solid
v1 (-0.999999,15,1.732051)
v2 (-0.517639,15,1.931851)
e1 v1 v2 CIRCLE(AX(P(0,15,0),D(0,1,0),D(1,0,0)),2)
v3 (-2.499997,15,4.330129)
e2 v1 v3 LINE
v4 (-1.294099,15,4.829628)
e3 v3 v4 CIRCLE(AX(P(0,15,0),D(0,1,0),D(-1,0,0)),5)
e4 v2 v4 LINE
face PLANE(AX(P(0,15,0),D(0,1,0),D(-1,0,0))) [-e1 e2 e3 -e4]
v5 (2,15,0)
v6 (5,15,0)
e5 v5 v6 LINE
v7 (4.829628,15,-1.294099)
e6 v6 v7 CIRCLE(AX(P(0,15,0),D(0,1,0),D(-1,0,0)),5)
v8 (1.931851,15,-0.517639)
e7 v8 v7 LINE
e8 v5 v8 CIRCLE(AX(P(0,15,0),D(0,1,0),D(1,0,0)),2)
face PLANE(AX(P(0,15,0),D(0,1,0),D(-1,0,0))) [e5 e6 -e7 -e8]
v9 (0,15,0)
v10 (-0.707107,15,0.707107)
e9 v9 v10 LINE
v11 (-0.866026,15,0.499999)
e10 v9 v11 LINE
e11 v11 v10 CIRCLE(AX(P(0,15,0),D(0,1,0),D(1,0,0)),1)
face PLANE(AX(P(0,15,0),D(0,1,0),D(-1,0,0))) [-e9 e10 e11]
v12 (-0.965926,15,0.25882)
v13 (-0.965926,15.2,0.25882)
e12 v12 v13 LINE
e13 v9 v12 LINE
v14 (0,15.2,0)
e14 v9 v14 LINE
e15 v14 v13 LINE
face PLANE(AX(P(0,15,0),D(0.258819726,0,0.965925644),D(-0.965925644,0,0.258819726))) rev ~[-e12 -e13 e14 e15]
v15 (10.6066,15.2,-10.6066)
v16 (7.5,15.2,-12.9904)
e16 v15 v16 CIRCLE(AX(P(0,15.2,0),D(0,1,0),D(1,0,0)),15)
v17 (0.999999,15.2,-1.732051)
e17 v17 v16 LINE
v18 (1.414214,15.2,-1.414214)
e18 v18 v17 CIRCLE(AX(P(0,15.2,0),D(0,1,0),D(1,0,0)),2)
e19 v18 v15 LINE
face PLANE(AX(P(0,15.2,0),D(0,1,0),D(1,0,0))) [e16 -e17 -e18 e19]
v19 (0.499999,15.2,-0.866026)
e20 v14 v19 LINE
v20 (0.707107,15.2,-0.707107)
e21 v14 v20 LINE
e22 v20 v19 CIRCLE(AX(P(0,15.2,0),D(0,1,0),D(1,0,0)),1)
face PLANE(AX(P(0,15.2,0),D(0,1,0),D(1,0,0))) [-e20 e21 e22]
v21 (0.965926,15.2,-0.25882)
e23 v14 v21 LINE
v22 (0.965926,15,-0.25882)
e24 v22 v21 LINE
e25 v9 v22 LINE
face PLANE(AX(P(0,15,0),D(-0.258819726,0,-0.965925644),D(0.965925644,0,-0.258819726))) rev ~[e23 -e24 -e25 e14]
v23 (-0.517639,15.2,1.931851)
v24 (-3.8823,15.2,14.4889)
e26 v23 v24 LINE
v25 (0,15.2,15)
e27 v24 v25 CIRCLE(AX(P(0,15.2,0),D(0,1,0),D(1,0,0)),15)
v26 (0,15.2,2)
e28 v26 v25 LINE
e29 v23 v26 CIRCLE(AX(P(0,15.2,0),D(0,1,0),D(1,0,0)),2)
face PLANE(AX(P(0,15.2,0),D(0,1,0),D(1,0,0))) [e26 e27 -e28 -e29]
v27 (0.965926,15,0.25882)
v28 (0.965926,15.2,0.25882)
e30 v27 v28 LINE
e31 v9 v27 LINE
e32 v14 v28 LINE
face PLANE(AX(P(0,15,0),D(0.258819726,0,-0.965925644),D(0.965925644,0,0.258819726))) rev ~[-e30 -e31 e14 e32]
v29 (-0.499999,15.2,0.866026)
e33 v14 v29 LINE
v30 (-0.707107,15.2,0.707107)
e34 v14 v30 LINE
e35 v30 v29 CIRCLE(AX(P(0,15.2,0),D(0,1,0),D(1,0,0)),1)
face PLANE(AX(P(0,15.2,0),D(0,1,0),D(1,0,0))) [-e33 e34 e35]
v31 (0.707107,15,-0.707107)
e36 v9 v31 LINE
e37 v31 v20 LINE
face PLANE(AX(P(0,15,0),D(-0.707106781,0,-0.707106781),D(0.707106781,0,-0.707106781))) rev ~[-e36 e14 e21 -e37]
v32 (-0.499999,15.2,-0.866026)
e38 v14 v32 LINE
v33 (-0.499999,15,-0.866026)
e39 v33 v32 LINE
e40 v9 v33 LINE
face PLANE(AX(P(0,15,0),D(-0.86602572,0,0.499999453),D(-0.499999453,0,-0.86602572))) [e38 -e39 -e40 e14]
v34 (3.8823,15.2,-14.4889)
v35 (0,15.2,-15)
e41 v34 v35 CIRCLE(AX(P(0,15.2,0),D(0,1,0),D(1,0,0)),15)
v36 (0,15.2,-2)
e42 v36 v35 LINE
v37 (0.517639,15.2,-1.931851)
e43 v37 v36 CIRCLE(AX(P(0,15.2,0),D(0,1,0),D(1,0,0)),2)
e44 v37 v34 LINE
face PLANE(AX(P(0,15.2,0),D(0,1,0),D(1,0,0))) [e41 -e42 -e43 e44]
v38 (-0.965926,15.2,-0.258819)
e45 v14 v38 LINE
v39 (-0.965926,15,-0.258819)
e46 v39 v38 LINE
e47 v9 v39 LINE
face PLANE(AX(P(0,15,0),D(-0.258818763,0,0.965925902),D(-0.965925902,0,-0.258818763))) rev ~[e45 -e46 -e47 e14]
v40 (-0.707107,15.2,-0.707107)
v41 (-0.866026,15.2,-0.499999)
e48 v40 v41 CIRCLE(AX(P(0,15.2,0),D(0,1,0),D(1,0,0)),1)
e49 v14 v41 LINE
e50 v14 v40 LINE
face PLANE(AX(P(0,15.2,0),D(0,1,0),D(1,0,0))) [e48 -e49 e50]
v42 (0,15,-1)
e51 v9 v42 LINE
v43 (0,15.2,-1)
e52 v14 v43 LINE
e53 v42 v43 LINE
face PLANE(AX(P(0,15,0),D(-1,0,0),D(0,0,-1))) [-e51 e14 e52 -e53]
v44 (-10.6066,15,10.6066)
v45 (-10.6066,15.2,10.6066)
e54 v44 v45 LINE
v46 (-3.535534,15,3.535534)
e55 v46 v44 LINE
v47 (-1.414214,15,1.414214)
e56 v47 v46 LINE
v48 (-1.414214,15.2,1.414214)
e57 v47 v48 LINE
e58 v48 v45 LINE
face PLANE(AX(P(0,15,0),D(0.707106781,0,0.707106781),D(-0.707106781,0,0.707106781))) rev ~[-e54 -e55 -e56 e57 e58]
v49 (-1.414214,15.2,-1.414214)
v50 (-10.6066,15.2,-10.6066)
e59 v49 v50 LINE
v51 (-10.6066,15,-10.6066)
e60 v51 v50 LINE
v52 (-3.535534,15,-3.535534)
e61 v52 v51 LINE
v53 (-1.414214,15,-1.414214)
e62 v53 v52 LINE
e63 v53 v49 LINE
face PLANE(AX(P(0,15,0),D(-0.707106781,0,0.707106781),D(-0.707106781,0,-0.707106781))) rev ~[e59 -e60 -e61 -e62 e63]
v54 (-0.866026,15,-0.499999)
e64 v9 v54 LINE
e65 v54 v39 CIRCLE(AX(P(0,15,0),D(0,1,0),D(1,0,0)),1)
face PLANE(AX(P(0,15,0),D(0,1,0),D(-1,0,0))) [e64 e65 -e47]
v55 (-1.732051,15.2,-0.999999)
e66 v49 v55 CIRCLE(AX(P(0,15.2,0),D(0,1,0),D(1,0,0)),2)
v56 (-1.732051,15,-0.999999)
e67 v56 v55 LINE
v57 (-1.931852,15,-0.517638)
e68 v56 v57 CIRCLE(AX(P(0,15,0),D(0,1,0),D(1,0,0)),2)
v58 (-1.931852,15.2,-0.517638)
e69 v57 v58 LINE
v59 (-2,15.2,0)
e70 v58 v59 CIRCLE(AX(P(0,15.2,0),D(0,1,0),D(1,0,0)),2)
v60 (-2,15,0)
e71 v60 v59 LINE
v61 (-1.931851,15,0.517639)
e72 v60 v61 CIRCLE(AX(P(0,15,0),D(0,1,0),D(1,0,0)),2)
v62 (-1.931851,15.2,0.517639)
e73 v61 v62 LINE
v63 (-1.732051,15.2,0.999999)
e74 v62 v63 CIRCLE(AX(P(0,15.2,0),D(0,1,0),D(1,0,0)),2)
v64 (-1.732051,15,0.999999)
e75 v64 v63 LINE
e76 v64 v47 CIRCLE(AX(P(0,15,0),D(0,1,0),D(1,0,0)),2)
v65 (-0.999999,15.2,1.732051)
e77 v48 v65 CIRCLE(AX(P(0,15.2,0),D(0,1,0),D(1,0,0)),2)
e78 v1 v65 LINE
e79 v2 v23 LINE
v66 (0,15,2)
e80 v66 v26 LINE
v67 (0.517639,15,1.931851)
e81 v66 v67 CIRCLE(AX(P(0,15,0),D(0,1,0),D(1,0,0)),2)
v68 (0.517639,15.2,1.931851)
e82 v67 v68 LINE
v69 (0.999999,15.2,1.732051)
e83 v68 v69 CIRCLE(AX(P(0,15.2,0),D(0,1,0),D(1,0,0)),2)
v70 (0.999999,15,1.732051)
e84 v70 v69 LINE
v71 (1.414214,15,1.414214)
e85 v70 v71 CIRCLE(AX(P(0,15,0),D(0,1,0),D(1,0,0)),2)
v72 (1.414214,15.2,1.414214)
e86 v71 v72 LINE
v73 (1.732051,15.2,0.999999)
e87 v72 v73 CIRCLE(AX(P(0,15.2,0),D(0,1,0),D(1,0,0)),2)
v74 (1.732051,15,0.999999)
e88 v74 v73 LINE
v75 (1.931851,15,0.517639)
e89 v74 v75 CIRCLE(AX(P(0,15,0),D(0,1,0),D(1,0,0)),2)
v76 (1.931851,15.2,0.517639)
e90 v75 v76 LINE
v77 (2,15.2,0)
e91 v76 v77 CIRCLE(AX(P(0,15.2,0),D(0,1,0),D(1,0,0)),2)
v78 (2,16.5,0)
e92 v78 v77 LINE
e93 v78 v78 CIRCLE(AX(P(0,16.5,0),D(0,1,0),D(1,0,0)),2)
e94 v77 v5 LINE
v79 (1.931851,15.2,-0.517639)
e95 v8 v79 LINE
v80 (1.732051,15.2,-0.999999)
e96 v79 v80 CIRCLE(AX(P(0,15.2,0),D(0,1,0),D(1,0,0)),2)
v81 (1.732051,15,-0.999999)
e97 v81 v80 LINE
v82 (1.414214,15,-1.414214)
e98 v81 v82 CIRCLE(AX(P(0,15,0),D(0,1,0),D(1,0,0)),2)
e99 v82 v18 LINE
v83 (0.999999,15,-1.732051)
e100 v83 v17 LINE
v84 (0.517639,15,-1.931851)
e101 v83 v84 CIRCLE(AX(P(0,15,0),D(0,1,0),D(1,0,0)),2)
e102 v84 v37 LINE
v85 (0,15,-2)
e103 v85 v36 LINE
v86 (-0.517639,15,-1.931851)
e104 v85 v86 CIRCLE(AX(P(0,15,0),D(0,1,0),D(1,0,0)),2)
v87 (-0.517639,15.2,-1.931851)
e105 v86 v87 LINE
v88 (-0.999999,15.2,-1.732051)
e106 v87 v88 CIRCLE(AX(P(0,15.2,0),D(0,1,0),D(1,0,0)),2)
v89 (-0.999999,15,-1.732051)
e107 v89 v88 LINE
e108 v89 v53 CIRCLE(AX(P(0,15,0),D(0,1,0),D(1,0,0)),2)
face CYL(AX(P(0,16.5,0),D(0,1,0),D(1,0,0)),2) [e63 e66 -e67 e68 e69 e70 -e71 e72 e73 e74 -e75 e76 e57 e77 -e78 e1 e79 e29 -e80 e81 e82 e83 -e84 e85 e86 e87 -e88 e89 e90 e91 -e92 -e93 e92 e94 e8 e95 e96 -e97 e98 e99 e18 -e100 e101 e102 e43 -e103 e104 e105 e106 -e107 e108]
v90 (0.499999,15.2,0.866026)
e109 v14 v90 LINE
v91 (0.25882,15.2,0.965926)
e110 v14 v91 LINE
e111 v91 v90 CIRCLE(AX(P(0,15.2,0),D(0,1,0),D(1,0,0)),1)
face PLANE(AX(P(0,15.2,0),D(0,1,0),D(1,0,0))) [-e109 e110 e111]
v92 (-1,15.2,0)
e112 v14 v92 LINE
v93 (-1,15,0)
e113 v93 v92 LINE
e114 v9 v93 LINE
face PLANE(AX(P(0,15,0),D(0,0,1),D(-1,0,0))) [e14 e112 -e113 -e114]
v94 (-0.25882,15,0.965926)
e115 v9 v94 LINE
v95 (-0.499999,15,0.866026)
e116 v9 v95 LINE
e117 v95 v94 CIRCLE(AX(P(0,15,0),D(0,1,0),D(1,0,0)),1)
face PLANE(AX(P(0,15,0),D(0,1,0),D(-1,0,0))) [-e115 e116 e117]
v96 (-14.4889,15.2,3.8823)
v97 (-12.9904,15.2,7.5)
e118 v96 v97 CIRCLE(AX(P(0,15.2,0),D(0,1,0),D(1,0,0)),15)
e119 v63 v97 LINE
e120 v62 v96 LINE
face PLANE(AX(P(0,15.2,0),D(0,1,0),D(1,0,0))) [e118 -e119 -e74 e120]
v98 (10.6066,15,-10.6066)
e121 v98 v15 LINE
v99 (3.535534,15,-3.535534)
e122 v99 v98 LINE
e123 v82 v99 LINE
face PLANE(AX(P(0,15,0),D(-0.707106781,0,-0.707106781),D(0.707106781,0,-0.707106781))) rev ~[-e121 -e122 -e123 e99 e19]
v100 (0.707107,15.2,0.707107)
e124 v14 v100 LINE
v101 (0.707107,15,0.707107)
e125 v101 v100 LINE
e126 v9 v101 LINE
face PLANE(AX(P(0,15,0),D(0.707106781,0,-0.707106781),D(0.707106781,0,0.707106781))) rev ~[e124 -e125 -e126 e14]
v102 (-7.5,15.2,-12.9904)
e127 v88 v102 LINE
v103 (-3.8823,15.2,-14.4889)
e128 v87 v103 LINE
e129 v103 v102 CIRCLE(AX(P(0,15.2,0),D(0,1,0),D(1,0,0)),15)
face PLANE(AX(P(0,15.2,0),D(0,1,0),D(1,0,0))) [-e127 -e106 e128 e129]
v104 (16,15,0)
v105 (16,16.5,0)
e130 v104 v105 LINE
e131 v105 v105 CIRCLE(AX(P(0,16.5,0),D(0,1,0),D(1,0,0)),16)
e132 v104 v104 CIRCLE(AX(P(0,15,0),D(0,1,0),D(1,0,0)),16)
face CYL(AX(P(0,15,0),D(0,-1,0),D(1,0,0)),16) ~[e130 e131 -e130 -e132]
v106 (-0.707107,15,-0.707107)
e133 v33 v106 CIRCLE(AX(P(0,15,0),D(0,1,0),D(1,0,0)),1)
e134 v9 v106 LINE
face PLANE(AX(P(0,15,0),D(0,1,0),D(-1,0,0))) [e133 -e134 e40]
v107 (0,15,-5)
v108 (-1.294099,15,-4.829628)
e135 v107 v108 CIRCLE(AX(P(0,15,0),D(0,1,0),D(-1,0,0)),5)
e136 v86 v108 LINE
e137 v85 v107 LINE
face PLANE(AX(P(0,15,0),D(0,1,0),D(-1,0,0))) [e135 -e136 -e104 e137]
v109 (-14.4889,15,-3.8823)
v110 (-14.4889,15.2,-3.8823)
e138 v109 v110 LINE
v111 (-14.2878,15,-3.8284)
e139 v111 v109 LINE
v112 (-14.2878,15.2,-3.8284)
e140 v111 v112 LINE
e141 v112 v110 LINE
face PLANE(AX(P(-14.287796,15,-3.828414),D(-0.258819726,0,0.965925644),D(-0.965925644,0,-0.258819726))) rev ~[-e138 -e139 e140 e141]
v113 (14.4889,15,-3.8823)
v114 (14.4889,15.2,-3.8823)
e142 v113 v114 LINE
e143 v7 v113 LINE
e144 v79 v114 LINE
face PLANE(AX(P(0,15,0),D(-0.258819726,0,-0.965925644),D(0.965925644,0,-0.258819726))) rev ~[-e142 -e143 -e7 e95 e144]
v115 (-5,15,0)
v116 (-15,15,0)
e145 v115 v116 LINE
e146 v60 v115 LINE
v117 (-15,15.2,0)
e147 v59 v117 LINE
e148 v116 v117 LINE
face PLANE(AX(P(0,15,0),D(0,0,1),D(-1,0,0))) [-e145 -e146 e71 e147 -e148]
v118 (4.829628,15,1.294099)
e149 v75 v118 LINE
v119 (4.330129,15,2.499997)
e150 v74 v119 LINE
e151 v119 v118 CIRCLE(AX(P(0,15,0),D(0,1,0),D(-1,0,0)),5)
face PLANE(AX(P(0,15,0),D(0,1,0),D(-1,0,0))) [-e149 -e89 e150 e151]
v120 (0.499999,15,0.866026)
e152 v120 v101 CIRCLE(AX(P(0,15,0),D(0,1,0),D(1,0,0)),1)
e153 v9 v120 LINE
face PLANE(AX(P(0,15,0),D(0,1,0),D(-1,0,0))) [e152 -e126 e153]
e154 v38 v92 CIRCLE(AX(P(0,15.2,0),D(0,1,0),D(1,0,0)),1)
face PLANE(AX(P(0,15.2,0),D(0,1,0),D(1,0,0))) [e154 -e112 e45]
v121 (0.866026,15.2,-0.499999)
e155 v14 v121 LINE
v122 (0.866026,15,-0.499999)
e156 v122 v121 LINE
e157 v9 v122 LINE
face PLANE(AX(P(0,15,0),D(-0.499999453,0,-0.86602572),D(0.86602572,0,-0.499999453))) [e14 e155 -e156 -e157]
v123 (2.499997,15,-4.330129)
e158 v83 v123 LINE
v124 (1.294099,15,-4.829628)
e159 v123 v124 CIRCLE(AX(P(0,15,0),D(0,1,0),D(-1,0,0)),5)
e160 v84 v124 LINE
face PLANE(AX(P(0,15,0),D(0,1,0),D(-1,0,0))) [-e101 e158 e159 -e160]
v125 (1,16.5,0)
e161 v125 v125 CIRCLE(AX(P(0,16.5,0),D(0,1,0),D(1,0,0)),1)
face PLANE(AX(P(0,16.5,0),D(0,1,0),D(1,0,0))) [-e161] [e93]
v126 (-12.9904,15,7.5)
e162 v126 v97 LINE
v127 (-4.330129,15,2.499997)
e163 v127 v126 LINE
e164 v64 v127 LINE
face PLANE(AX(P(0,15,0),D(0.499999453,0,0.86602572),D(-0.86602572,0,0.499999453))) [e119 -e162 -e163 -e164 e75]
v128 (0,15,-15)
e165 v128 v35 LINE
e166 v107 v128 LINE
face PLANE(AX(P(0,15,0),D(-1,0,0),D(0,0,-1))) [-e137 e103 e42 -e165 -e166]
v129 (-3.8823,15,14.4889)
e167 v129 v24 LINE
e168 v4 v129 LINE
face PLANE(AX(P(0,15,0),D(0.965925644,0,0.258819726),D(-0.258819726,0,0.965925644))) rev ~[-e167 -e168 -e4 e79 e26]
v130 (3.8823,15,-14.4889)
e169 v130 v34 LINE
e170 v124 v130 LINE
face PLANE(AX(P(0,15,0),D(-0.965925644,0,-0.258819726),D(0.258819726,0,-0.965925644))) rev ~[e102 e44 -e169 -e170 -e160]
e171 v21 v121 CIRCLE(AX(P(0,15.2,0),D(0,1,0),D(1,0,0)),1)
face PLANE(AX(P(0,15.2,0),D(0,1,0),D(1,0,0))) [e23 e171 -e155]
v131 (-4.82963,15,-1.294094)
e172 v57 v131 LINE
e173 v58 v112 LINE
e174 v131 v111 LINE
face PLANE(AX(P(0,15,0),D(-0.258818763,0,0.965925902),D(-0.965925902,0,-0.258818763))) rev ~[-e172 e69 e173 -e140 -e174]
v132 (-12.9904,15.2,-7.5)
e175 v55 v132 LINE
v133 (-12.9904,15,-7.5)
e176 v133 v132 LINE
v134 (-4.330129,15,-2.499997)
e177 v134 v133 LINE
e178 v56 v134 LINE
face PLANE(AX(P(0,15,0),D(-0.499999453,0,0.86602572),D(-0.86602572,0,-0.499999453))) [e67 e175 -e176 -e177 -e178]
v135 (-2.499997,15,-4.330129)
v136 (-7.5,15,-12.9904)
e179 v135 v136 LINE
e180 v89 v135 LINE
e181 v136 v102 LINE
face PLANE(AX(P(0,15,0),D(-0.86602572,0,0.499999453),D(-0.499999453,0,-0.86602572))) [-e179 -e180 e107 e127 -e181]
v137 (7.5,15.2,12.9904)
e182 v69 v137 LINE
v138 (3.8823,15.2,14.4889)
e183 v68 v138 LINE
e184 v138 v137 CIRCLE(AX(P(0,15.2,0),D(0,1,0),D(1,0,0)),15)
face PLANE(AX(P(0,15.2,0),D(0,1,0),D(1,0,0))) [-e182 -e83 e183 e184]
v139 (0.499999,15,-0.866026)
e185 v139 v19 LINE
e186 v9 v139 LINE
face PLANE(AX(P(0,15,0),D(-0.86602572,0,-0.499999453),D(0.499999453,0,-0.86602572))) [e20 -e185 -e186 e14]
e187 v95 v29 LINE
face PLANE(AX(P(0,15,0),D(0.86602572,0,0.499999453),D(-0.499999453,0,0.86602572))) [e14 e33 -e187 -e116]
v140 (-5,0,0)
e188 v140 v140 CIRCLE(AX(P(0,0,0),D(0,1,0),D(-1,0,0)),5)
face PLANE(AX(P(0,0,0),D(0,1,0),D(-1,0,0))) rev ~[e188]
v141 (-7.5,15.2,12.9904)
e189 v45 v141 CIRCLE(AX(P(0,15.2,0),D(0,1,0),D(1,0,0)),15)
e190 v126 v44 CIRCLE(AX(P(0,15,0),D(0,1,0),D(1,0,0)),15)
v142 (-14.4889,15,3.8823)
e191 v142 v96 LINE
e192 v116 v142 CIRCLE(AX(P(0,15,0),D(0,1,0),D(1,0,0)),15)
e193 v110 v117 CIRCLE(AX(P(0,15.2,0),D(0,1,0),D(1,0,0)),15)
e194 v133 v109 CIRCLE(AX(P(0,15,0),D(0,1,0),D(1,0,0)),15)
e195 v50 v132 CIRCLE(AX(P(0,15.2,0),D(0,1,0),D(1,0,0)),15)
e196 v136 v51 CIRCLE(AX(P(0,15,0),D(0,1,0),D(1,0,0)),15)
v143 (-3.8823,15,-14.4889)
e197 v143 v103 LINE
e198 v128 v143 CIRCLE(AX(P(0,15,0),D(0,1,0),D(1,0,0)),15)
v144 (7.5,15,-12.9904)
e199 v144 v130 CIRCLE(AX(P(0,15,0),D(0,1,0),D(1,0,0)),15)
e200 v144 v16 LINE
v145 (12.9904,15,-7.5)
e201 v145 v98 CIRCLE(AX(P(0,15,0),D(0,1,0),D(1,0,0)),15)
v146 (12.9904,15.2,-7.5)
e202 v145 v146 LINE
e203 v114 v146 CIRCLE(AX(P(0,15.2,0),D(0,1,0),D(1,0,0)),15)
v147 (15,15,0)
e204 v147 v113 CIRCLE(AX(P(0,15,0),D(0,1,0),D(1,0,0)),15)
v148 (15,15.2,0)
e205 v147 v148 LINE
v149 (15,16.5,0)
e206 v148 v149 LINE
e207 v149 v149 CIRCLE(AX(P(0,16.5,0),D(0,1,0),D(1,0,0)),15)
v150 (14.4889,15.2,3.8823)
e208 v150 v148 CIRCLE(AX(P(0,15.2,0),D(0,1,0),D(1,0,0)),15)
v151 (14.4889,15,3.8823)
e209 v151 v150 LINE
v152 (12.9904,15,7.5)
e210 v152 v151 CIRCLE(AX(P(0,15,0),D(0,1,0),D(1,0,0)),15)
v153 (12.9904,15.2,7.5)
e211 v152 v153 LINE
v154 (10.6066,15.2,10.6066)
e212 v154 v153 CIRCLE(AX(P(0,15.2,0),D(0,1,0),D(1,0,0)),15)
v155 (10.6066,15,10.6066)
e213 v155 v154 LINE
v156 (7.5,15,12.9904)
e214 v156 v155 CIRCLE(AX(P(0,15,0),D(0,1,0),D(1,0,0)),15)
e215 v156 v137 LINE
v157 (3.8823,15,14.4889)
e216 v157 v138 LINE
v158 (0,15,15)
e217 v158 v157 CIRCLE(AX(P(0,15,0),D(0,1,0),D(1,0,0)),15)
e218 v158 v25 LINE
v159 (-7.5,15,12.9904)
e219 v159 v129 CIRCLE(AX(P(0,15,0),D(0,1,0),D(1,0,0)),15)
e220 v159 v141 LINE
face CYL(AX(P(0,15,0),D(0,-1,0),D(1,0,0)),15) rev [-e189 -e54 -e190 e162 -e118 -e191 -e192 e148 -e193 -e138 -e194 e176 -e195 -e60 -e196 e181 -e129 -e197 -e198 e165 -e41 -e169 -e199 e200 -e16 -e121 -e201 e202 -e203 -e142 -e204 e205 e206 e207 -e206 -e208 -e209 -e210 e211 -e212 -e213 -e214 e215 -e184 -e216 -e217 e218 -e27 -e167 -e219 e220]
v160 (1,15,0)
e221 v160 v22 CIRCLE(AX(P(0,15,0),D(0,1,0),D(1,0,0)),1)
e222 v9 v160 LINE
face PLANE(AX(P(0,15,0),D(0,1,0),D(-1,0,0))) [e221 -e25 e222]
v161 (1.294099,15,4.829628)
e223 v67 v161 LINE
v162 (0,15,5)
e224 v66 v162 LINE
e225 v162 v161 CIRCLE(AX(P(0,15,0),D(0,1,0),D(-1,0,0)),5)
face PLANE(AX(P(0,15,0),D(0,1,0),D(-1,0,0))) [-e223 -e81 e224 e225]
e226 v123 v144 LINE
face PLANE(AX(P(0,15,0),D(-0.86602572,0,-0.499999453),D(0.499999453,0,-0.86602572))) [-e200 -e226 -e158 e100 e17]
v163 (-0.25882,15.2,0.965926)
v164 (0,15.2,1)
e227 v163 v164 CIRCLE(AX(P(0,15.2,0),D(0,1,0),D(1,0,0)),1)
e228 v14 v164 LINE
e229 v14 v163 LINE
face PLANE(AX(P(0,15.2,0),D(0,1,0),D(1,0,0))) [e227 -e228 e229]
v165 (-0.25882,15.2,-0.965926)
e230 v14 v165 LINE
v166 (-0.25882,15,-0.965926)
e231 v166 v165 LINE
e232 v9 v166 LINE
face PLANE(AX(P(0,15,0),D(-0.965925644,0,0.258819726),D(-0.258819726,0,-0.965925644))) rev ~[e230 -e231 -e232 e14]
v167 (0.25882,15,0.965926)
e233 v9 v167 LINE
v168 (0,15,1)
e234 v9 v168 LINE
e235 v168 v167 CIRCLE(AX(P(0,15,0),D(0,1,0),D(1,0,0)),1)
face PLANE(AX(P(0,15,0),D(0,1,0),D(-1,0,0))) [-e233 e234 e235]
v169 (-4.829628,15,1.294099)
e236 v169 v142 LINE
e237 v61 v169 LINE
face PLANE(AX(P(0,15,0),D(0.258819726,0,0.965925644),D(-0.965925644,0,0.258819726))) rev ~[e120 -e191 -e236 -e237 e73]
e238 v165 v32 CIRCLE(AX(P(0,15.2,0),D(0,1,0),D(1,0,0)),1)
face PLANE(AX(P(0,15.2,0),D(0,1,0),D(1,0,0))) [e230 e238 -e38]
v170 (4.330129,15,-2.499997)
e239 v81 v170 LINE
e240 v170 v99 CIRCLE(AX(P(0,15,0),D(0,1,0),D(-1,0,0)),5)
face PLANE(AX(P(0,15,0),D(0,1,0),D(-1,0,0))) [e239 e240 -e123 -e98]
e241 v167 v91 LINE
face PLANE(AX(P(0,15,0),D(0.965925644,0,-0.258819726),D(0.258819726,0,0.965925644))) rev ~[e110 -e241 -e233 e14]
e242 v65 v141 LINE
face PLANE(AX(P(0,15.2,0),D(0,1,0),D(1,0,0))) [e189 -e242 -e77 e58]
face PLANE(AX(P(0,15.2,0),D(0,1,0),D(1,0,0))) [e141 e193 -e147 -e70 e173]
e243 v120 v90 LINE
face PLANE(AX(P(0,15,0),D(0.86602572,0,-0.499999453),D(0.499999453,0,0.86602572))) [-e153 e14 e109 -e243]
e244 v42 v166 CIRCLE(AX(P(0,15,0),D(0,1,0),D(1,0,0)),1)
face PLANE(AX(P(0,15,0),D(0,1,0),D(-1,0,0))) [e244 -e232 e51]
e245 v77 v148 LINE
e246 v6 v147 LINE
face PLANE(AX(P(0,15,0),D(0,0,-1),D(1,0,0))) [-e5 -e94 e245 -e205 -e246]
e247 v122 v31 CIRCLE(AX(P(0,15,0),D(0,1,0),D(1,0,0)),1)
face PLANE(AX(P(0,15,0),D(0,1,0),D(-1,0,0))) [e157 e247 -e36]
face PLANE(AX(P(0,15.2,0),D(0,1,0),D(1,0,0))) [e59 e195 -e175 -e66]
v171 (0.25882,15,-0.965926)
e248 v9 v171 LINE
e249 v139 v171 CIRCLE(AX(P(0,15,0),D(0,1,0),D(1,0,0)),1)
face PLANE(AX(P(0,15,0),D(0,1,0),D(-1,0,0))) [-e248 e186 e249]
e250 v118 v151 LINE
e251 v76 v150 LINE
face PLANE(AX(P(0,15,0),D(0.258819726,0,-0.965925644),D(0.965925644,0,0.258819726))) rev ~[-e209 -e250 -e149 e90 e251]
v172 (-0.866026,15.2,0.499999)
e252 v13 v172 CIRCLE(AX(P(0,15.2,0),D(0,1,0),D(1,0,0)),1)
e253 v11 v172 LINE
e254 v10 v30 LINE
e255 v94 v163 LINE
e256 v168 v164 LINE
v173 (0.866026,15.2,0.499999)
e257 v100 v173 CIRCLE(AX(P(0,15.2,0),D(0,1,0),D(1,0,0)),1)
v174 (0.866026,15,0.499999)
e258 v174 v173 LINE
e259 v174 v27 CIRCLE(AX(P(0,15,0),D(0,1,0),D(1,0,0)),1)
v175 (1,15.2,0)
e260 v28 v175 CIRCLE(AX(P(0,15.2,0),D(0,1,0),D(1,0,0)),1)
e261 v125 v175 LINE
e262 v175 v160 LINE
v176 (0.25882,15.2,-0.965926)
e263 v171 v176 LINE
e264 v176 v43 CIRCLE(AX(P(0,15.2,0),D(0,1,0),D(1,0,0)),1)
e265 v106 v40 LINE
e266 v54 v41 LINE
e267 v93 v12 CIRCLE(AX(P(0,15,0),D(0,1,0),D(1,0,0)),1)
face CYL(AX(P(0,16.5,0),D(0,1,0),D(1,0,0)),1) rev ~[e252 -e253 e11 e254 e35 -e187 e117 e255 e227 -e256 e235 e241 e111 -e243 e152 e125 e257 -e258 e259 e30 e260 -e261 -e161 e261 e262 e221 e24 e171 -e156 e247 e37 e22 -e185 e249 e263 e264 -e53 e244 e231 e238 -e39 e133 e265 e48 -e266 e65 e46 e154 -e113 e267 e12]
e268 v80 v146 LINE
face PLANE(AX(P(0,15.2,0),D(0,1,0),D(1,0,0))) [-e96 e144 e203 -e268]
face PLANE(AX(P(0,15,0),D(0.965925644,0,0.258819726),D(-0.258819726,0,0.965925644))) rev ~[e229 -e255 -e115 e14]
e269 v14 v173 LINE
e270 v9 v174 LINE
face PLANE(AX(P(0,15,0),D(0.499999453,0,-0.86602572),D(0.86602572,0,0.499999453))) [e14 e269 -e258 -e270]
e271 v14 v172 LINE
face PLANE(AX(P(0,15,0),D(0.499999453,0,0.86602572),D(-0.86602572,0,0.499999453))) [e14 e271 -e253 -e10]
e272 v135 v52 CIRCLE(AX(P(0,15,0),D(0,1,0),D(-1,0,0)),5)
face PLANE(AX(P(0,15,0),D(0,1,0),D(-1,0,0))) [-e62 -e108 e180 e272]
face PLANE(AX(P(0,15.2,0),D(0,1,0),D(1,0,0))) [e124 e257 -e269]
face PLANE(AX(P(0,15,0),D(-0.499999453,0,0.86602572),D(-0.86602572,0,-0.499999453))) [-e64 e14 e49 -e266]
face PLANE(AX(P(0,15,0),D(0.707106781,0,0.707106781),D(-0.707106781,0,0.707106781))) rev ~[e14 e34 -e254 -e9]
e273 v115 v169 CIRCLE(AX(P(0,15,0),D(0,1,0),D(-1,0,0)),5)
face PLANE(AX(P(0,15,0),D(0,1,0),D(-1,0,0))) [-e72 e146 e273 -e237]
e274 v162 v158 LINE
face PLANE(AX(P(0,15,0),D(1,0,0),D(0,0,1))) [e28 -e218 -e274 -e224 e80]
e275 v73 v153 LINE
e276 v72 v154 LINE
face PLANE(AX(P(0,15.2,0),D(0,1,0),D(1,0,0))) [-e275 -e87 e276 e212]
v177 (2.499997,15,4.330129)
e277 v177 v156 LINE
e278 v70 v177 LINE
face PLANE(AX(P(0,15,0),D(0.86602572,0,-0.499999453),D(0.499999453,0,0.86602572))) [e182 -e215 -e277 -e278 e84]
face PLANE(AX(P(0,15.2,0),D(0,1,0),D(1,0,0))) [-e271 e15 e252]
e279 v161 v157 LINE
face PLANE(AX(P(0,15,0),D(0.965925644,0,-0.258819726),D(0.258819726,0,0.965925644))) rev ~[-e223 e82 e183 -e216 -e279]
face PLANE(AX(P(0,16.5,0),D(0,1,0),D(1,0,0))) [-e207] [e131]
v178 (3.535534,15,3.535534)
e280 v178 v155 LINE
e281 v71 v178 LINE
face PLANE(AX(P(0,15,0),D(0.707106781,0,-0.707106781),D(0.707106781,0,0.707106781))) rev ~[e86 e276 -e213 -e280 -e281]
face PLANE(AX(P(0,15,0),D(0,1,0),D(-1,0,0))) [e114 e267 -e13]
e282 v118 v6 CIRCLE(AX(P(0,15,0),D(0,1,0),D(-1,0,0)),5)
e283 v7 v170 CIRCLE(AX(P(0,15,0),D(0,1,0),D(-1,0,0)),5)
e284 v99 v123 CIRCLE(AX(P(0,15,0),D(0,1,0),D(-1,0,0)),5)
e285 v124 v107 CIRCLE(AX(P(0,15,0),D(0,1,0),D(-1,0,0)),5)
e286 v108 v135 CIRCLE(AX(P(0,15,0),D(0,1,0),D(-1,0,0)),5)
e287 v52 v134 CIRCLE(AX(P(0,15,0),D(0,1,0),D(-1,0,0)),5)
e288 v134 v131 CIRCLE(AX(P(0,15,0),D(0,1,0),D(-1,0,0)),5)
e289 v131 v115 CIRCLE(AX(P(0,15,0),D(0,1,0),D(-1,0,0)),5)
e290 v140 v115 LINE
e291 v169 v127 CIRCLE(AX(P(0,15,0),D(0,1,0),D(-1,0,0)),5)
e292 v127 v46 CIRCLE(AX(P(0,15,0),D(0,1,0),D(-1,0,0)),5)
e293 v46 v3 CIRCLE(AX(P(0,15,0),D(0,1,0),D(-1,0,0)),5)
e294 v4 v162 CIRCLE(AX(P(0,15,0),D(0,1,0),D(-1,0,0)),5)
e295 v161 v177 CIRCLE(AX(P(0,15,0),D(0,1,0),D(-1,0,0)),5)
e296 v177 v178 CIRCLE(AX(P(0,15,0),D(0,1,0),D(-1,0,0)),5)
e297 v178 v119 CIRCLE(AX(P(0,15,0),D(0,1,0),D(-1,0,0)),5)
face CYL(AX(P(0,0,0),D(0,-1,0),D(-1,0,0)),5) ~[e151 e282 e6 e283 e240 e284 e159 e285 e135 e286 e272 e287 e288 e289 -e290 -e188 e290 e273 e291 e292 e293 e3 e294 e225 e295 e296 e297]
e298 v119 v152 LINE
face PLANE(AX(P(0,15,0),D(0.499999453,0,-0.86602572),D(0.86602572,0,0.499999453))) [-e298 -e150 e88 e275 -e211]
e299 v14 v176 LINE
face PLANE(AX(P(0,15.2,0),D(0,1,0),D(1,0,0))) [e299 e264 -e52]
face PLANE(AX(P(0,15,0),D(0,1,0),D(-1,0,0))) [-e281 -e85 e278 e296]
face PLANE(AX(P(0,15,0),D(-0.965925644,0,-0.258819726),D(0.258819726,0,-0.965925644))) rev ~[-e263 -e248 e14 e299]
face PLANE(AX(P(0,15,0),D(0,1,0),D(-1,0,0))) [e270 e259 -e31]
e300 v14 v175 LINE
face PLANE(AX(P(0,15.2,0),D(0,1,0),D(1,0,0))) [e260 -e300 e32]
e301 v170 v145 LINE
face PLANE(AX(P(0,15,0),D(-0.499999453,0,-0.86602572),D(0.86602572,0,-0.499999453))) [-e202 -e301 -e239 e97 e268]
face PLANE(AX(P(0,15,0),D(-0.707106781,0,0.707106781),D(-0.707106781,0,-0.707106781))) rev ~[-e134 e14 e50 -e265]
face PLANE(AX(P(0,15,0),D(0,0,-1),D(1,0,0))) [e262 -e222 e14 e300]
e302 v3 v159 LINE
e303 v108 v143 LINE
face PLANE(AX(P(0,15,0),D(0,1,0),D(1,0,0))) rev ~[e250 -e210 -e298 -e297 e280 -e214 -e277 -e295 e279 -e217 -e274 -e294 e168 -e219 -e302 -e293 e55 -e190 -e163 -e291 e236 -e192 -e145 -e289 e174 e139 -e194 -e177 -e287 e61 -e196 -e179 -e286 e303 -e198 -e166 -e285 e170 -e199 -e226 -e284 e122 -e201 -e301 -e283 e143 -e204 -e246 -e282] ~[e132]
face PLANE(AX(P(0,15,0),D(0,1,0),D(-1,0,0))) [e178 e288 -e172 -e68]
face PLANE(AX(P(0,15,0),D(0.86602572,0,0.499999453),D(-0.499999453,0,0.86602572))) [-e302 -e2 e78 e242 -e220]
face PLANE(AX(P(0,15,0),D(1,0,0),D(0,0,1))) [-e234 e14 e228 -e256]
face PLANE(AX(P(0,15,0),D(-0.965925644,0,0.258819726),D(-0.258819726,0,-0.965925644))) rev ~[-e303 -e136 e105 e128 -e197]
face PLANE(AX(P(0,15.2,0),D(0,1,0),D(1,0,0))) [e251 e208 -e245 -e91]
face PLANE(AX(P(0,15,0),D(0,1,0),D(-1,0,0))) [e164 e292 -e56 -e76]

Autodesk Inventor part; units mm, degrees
ref_plane "YZ Plane" through (0, 0, 0) normal (1, 0, 0) x (0, 1, 0)
ref_plane "XZ Plane" through (0, 0, 0) normal (0, 1, 0) x (-1, 0, 0)
ref_plane "XY Plane" through (0, 0, 0) normal (0, 0, 1) x (1, 0, 0)
sketch "스케치1" plane through (0, 0, 0) normal (0, 1, 0) x (-1, 0, 0)
  circle A0 centre (0, 0) radius 5
  dimension "d0" = 10
extrude "돌출1" add sketch "스케치1" along normal blind 15
sketch "스케치2" plane through (0, 15, 0) normal (0, 1, 0) x (1, 0, 0)
  circle A0 centre (0, 0) radius 15
  circle A1 centre (0, 0) radius 16
  dimension "d3" = 30
  dimension "d4" = 32
extrude "돌출2" add sketch "스케치2" along normal blind 1.5
sketch "스케치3" plane through (0, 15, 0) normal (0, 1, 0) x (1, 0, 0)
  line L0 (0, 0) -> (15, 0)
  circle A0 centre (0, 0) radius 15 projected
  line L1 (0, 0) -> (14.4889, 3.8823)
  line L2 (0, 0) -> (15, 0) construction
  line L3 (0, 0) -> (12.9904, 7.5)
  line L4 (0, 0) -> (15, 0) construction
  line L5 (0, 0) -> (10.6066, 10.6066)
  line L6 (0, 0) -> (15, 0) construction
  line L7 (0, 0) -> (7.5, 12.9904)
  line L8 (0, 0) -> (15, 0) construction
  line L9 (0, 0) -> (3.8823, 14.4889)
  line L10 (0, 0) -> (15, 0) construction
  line L11 (0, 0) -> (0, 15)
  line L12 (0, 0) -> (-3.8823, 14.4889)
  line L13 (0, 0) -> (-7.5, 12.9904)
  line L14 (0, 0) -> (-10.6066, 10.6066)
  line L15 (0, 0) -> (-12.9904, 7.5)
  line L16 (0, 0) -> (-14.2878, 3.8284)
  line L17 (0, 0) -> (-12.9904, -7.5)
  line L18 (0, 0) -> (-7.5, -12.9904)
  line L19 (0, 0) -> (0, -15)
  line L20 (0, 0) -> (10.6066, -10.6066)
  line L21 (0, 0) -> (12.9904, -7.5)
  line L22 (0, 0) -> (14.4889, -3.8823)
  line L23 (0, 0) -> (-15, 0)
  line L24 (0, 0) -> (-14.4889, -3.8823)
  line L25 (0, 0) -> (0, 0)
  line L26 (0, 0) -> (-10.6066, -10.6066)
  line L27 (0, 0) -> (-3.8823, -14.4889)
  line L28 (0, 0) -> (7.5, -12.9904)
  line L29 (0, 0) -> (3.8823, -14.4889)
  line L30 (0, 0) -> (-14.4889, 3.8823)
  dimension "d12" = 15
  dimension "d13" = 15
  dimension "d14" = 15
  dimension "d15" = 15
  dimension "d16" = 15
  dimension "d17" = 15
  dimension "d18" = 15
  dimension "d19" = 15
  dimension "d21" = 15
  dimension "d22" = 15
  dimension "d23" = 15
  dimension "d24" = 15
  dimension "d25" = 15
  dimension "d26" = 15
  dimension "d27" = 15
  dimension "d28" = 15
  dimension "d29" = 15
  dimension "d30" = 15
  dimension "d31" = 15
  dimension "d32" = 15
  dimension "d33" = 15
  dimension "d34" = 15
  dimension "d35" = 15
  dimension "d36" = 15
  dimension "d7" = 15
  dimension "d8" = 30
  dimension "d9" = 45
  dimension "d10" = 60
  dimension "d11" = 75
  dimension "d20" = 15
extrude "돌출3" add sketch "스케치3" along normal blind 0.2 contours L3 A0 L1 | L7 A0 L5 | L11 A0 L9 | L13 A0 L12 | L15 A0 L14 | L23 A0 L30 L16 | L21 A0 L20 | L0 A0 L22 | L17 A0 L24 | L18 A0 L26 | L19 A0 L27 | L28 A0 L29
sketch "스케치4" plane through (0, 16.5, 0) normal (0, 1, 0) x (1, 0, 0)
  line L0 (0, 0) -> (10.6066, 10.6066) projected
  circle A0 centre (0, 0) radius 2
  line L1 (0, 0) -> (14.4889, 3.8823) projected
  circle A1 centre (0, 0) radius 1
  dimension "d39" = 4
  dimension "d40" = 2
extrude "돌출4" add sketch "스케치4" against normal blind 2 contours A1 L1 A0 L0 | L0 A0 L1 A1
sketch "스케치5" plane through (0, 16.5, 0) normal (0, 1, 0) x (1, 0, 0)
  point P0 (0, 0)
properties part number "fan_num3"
